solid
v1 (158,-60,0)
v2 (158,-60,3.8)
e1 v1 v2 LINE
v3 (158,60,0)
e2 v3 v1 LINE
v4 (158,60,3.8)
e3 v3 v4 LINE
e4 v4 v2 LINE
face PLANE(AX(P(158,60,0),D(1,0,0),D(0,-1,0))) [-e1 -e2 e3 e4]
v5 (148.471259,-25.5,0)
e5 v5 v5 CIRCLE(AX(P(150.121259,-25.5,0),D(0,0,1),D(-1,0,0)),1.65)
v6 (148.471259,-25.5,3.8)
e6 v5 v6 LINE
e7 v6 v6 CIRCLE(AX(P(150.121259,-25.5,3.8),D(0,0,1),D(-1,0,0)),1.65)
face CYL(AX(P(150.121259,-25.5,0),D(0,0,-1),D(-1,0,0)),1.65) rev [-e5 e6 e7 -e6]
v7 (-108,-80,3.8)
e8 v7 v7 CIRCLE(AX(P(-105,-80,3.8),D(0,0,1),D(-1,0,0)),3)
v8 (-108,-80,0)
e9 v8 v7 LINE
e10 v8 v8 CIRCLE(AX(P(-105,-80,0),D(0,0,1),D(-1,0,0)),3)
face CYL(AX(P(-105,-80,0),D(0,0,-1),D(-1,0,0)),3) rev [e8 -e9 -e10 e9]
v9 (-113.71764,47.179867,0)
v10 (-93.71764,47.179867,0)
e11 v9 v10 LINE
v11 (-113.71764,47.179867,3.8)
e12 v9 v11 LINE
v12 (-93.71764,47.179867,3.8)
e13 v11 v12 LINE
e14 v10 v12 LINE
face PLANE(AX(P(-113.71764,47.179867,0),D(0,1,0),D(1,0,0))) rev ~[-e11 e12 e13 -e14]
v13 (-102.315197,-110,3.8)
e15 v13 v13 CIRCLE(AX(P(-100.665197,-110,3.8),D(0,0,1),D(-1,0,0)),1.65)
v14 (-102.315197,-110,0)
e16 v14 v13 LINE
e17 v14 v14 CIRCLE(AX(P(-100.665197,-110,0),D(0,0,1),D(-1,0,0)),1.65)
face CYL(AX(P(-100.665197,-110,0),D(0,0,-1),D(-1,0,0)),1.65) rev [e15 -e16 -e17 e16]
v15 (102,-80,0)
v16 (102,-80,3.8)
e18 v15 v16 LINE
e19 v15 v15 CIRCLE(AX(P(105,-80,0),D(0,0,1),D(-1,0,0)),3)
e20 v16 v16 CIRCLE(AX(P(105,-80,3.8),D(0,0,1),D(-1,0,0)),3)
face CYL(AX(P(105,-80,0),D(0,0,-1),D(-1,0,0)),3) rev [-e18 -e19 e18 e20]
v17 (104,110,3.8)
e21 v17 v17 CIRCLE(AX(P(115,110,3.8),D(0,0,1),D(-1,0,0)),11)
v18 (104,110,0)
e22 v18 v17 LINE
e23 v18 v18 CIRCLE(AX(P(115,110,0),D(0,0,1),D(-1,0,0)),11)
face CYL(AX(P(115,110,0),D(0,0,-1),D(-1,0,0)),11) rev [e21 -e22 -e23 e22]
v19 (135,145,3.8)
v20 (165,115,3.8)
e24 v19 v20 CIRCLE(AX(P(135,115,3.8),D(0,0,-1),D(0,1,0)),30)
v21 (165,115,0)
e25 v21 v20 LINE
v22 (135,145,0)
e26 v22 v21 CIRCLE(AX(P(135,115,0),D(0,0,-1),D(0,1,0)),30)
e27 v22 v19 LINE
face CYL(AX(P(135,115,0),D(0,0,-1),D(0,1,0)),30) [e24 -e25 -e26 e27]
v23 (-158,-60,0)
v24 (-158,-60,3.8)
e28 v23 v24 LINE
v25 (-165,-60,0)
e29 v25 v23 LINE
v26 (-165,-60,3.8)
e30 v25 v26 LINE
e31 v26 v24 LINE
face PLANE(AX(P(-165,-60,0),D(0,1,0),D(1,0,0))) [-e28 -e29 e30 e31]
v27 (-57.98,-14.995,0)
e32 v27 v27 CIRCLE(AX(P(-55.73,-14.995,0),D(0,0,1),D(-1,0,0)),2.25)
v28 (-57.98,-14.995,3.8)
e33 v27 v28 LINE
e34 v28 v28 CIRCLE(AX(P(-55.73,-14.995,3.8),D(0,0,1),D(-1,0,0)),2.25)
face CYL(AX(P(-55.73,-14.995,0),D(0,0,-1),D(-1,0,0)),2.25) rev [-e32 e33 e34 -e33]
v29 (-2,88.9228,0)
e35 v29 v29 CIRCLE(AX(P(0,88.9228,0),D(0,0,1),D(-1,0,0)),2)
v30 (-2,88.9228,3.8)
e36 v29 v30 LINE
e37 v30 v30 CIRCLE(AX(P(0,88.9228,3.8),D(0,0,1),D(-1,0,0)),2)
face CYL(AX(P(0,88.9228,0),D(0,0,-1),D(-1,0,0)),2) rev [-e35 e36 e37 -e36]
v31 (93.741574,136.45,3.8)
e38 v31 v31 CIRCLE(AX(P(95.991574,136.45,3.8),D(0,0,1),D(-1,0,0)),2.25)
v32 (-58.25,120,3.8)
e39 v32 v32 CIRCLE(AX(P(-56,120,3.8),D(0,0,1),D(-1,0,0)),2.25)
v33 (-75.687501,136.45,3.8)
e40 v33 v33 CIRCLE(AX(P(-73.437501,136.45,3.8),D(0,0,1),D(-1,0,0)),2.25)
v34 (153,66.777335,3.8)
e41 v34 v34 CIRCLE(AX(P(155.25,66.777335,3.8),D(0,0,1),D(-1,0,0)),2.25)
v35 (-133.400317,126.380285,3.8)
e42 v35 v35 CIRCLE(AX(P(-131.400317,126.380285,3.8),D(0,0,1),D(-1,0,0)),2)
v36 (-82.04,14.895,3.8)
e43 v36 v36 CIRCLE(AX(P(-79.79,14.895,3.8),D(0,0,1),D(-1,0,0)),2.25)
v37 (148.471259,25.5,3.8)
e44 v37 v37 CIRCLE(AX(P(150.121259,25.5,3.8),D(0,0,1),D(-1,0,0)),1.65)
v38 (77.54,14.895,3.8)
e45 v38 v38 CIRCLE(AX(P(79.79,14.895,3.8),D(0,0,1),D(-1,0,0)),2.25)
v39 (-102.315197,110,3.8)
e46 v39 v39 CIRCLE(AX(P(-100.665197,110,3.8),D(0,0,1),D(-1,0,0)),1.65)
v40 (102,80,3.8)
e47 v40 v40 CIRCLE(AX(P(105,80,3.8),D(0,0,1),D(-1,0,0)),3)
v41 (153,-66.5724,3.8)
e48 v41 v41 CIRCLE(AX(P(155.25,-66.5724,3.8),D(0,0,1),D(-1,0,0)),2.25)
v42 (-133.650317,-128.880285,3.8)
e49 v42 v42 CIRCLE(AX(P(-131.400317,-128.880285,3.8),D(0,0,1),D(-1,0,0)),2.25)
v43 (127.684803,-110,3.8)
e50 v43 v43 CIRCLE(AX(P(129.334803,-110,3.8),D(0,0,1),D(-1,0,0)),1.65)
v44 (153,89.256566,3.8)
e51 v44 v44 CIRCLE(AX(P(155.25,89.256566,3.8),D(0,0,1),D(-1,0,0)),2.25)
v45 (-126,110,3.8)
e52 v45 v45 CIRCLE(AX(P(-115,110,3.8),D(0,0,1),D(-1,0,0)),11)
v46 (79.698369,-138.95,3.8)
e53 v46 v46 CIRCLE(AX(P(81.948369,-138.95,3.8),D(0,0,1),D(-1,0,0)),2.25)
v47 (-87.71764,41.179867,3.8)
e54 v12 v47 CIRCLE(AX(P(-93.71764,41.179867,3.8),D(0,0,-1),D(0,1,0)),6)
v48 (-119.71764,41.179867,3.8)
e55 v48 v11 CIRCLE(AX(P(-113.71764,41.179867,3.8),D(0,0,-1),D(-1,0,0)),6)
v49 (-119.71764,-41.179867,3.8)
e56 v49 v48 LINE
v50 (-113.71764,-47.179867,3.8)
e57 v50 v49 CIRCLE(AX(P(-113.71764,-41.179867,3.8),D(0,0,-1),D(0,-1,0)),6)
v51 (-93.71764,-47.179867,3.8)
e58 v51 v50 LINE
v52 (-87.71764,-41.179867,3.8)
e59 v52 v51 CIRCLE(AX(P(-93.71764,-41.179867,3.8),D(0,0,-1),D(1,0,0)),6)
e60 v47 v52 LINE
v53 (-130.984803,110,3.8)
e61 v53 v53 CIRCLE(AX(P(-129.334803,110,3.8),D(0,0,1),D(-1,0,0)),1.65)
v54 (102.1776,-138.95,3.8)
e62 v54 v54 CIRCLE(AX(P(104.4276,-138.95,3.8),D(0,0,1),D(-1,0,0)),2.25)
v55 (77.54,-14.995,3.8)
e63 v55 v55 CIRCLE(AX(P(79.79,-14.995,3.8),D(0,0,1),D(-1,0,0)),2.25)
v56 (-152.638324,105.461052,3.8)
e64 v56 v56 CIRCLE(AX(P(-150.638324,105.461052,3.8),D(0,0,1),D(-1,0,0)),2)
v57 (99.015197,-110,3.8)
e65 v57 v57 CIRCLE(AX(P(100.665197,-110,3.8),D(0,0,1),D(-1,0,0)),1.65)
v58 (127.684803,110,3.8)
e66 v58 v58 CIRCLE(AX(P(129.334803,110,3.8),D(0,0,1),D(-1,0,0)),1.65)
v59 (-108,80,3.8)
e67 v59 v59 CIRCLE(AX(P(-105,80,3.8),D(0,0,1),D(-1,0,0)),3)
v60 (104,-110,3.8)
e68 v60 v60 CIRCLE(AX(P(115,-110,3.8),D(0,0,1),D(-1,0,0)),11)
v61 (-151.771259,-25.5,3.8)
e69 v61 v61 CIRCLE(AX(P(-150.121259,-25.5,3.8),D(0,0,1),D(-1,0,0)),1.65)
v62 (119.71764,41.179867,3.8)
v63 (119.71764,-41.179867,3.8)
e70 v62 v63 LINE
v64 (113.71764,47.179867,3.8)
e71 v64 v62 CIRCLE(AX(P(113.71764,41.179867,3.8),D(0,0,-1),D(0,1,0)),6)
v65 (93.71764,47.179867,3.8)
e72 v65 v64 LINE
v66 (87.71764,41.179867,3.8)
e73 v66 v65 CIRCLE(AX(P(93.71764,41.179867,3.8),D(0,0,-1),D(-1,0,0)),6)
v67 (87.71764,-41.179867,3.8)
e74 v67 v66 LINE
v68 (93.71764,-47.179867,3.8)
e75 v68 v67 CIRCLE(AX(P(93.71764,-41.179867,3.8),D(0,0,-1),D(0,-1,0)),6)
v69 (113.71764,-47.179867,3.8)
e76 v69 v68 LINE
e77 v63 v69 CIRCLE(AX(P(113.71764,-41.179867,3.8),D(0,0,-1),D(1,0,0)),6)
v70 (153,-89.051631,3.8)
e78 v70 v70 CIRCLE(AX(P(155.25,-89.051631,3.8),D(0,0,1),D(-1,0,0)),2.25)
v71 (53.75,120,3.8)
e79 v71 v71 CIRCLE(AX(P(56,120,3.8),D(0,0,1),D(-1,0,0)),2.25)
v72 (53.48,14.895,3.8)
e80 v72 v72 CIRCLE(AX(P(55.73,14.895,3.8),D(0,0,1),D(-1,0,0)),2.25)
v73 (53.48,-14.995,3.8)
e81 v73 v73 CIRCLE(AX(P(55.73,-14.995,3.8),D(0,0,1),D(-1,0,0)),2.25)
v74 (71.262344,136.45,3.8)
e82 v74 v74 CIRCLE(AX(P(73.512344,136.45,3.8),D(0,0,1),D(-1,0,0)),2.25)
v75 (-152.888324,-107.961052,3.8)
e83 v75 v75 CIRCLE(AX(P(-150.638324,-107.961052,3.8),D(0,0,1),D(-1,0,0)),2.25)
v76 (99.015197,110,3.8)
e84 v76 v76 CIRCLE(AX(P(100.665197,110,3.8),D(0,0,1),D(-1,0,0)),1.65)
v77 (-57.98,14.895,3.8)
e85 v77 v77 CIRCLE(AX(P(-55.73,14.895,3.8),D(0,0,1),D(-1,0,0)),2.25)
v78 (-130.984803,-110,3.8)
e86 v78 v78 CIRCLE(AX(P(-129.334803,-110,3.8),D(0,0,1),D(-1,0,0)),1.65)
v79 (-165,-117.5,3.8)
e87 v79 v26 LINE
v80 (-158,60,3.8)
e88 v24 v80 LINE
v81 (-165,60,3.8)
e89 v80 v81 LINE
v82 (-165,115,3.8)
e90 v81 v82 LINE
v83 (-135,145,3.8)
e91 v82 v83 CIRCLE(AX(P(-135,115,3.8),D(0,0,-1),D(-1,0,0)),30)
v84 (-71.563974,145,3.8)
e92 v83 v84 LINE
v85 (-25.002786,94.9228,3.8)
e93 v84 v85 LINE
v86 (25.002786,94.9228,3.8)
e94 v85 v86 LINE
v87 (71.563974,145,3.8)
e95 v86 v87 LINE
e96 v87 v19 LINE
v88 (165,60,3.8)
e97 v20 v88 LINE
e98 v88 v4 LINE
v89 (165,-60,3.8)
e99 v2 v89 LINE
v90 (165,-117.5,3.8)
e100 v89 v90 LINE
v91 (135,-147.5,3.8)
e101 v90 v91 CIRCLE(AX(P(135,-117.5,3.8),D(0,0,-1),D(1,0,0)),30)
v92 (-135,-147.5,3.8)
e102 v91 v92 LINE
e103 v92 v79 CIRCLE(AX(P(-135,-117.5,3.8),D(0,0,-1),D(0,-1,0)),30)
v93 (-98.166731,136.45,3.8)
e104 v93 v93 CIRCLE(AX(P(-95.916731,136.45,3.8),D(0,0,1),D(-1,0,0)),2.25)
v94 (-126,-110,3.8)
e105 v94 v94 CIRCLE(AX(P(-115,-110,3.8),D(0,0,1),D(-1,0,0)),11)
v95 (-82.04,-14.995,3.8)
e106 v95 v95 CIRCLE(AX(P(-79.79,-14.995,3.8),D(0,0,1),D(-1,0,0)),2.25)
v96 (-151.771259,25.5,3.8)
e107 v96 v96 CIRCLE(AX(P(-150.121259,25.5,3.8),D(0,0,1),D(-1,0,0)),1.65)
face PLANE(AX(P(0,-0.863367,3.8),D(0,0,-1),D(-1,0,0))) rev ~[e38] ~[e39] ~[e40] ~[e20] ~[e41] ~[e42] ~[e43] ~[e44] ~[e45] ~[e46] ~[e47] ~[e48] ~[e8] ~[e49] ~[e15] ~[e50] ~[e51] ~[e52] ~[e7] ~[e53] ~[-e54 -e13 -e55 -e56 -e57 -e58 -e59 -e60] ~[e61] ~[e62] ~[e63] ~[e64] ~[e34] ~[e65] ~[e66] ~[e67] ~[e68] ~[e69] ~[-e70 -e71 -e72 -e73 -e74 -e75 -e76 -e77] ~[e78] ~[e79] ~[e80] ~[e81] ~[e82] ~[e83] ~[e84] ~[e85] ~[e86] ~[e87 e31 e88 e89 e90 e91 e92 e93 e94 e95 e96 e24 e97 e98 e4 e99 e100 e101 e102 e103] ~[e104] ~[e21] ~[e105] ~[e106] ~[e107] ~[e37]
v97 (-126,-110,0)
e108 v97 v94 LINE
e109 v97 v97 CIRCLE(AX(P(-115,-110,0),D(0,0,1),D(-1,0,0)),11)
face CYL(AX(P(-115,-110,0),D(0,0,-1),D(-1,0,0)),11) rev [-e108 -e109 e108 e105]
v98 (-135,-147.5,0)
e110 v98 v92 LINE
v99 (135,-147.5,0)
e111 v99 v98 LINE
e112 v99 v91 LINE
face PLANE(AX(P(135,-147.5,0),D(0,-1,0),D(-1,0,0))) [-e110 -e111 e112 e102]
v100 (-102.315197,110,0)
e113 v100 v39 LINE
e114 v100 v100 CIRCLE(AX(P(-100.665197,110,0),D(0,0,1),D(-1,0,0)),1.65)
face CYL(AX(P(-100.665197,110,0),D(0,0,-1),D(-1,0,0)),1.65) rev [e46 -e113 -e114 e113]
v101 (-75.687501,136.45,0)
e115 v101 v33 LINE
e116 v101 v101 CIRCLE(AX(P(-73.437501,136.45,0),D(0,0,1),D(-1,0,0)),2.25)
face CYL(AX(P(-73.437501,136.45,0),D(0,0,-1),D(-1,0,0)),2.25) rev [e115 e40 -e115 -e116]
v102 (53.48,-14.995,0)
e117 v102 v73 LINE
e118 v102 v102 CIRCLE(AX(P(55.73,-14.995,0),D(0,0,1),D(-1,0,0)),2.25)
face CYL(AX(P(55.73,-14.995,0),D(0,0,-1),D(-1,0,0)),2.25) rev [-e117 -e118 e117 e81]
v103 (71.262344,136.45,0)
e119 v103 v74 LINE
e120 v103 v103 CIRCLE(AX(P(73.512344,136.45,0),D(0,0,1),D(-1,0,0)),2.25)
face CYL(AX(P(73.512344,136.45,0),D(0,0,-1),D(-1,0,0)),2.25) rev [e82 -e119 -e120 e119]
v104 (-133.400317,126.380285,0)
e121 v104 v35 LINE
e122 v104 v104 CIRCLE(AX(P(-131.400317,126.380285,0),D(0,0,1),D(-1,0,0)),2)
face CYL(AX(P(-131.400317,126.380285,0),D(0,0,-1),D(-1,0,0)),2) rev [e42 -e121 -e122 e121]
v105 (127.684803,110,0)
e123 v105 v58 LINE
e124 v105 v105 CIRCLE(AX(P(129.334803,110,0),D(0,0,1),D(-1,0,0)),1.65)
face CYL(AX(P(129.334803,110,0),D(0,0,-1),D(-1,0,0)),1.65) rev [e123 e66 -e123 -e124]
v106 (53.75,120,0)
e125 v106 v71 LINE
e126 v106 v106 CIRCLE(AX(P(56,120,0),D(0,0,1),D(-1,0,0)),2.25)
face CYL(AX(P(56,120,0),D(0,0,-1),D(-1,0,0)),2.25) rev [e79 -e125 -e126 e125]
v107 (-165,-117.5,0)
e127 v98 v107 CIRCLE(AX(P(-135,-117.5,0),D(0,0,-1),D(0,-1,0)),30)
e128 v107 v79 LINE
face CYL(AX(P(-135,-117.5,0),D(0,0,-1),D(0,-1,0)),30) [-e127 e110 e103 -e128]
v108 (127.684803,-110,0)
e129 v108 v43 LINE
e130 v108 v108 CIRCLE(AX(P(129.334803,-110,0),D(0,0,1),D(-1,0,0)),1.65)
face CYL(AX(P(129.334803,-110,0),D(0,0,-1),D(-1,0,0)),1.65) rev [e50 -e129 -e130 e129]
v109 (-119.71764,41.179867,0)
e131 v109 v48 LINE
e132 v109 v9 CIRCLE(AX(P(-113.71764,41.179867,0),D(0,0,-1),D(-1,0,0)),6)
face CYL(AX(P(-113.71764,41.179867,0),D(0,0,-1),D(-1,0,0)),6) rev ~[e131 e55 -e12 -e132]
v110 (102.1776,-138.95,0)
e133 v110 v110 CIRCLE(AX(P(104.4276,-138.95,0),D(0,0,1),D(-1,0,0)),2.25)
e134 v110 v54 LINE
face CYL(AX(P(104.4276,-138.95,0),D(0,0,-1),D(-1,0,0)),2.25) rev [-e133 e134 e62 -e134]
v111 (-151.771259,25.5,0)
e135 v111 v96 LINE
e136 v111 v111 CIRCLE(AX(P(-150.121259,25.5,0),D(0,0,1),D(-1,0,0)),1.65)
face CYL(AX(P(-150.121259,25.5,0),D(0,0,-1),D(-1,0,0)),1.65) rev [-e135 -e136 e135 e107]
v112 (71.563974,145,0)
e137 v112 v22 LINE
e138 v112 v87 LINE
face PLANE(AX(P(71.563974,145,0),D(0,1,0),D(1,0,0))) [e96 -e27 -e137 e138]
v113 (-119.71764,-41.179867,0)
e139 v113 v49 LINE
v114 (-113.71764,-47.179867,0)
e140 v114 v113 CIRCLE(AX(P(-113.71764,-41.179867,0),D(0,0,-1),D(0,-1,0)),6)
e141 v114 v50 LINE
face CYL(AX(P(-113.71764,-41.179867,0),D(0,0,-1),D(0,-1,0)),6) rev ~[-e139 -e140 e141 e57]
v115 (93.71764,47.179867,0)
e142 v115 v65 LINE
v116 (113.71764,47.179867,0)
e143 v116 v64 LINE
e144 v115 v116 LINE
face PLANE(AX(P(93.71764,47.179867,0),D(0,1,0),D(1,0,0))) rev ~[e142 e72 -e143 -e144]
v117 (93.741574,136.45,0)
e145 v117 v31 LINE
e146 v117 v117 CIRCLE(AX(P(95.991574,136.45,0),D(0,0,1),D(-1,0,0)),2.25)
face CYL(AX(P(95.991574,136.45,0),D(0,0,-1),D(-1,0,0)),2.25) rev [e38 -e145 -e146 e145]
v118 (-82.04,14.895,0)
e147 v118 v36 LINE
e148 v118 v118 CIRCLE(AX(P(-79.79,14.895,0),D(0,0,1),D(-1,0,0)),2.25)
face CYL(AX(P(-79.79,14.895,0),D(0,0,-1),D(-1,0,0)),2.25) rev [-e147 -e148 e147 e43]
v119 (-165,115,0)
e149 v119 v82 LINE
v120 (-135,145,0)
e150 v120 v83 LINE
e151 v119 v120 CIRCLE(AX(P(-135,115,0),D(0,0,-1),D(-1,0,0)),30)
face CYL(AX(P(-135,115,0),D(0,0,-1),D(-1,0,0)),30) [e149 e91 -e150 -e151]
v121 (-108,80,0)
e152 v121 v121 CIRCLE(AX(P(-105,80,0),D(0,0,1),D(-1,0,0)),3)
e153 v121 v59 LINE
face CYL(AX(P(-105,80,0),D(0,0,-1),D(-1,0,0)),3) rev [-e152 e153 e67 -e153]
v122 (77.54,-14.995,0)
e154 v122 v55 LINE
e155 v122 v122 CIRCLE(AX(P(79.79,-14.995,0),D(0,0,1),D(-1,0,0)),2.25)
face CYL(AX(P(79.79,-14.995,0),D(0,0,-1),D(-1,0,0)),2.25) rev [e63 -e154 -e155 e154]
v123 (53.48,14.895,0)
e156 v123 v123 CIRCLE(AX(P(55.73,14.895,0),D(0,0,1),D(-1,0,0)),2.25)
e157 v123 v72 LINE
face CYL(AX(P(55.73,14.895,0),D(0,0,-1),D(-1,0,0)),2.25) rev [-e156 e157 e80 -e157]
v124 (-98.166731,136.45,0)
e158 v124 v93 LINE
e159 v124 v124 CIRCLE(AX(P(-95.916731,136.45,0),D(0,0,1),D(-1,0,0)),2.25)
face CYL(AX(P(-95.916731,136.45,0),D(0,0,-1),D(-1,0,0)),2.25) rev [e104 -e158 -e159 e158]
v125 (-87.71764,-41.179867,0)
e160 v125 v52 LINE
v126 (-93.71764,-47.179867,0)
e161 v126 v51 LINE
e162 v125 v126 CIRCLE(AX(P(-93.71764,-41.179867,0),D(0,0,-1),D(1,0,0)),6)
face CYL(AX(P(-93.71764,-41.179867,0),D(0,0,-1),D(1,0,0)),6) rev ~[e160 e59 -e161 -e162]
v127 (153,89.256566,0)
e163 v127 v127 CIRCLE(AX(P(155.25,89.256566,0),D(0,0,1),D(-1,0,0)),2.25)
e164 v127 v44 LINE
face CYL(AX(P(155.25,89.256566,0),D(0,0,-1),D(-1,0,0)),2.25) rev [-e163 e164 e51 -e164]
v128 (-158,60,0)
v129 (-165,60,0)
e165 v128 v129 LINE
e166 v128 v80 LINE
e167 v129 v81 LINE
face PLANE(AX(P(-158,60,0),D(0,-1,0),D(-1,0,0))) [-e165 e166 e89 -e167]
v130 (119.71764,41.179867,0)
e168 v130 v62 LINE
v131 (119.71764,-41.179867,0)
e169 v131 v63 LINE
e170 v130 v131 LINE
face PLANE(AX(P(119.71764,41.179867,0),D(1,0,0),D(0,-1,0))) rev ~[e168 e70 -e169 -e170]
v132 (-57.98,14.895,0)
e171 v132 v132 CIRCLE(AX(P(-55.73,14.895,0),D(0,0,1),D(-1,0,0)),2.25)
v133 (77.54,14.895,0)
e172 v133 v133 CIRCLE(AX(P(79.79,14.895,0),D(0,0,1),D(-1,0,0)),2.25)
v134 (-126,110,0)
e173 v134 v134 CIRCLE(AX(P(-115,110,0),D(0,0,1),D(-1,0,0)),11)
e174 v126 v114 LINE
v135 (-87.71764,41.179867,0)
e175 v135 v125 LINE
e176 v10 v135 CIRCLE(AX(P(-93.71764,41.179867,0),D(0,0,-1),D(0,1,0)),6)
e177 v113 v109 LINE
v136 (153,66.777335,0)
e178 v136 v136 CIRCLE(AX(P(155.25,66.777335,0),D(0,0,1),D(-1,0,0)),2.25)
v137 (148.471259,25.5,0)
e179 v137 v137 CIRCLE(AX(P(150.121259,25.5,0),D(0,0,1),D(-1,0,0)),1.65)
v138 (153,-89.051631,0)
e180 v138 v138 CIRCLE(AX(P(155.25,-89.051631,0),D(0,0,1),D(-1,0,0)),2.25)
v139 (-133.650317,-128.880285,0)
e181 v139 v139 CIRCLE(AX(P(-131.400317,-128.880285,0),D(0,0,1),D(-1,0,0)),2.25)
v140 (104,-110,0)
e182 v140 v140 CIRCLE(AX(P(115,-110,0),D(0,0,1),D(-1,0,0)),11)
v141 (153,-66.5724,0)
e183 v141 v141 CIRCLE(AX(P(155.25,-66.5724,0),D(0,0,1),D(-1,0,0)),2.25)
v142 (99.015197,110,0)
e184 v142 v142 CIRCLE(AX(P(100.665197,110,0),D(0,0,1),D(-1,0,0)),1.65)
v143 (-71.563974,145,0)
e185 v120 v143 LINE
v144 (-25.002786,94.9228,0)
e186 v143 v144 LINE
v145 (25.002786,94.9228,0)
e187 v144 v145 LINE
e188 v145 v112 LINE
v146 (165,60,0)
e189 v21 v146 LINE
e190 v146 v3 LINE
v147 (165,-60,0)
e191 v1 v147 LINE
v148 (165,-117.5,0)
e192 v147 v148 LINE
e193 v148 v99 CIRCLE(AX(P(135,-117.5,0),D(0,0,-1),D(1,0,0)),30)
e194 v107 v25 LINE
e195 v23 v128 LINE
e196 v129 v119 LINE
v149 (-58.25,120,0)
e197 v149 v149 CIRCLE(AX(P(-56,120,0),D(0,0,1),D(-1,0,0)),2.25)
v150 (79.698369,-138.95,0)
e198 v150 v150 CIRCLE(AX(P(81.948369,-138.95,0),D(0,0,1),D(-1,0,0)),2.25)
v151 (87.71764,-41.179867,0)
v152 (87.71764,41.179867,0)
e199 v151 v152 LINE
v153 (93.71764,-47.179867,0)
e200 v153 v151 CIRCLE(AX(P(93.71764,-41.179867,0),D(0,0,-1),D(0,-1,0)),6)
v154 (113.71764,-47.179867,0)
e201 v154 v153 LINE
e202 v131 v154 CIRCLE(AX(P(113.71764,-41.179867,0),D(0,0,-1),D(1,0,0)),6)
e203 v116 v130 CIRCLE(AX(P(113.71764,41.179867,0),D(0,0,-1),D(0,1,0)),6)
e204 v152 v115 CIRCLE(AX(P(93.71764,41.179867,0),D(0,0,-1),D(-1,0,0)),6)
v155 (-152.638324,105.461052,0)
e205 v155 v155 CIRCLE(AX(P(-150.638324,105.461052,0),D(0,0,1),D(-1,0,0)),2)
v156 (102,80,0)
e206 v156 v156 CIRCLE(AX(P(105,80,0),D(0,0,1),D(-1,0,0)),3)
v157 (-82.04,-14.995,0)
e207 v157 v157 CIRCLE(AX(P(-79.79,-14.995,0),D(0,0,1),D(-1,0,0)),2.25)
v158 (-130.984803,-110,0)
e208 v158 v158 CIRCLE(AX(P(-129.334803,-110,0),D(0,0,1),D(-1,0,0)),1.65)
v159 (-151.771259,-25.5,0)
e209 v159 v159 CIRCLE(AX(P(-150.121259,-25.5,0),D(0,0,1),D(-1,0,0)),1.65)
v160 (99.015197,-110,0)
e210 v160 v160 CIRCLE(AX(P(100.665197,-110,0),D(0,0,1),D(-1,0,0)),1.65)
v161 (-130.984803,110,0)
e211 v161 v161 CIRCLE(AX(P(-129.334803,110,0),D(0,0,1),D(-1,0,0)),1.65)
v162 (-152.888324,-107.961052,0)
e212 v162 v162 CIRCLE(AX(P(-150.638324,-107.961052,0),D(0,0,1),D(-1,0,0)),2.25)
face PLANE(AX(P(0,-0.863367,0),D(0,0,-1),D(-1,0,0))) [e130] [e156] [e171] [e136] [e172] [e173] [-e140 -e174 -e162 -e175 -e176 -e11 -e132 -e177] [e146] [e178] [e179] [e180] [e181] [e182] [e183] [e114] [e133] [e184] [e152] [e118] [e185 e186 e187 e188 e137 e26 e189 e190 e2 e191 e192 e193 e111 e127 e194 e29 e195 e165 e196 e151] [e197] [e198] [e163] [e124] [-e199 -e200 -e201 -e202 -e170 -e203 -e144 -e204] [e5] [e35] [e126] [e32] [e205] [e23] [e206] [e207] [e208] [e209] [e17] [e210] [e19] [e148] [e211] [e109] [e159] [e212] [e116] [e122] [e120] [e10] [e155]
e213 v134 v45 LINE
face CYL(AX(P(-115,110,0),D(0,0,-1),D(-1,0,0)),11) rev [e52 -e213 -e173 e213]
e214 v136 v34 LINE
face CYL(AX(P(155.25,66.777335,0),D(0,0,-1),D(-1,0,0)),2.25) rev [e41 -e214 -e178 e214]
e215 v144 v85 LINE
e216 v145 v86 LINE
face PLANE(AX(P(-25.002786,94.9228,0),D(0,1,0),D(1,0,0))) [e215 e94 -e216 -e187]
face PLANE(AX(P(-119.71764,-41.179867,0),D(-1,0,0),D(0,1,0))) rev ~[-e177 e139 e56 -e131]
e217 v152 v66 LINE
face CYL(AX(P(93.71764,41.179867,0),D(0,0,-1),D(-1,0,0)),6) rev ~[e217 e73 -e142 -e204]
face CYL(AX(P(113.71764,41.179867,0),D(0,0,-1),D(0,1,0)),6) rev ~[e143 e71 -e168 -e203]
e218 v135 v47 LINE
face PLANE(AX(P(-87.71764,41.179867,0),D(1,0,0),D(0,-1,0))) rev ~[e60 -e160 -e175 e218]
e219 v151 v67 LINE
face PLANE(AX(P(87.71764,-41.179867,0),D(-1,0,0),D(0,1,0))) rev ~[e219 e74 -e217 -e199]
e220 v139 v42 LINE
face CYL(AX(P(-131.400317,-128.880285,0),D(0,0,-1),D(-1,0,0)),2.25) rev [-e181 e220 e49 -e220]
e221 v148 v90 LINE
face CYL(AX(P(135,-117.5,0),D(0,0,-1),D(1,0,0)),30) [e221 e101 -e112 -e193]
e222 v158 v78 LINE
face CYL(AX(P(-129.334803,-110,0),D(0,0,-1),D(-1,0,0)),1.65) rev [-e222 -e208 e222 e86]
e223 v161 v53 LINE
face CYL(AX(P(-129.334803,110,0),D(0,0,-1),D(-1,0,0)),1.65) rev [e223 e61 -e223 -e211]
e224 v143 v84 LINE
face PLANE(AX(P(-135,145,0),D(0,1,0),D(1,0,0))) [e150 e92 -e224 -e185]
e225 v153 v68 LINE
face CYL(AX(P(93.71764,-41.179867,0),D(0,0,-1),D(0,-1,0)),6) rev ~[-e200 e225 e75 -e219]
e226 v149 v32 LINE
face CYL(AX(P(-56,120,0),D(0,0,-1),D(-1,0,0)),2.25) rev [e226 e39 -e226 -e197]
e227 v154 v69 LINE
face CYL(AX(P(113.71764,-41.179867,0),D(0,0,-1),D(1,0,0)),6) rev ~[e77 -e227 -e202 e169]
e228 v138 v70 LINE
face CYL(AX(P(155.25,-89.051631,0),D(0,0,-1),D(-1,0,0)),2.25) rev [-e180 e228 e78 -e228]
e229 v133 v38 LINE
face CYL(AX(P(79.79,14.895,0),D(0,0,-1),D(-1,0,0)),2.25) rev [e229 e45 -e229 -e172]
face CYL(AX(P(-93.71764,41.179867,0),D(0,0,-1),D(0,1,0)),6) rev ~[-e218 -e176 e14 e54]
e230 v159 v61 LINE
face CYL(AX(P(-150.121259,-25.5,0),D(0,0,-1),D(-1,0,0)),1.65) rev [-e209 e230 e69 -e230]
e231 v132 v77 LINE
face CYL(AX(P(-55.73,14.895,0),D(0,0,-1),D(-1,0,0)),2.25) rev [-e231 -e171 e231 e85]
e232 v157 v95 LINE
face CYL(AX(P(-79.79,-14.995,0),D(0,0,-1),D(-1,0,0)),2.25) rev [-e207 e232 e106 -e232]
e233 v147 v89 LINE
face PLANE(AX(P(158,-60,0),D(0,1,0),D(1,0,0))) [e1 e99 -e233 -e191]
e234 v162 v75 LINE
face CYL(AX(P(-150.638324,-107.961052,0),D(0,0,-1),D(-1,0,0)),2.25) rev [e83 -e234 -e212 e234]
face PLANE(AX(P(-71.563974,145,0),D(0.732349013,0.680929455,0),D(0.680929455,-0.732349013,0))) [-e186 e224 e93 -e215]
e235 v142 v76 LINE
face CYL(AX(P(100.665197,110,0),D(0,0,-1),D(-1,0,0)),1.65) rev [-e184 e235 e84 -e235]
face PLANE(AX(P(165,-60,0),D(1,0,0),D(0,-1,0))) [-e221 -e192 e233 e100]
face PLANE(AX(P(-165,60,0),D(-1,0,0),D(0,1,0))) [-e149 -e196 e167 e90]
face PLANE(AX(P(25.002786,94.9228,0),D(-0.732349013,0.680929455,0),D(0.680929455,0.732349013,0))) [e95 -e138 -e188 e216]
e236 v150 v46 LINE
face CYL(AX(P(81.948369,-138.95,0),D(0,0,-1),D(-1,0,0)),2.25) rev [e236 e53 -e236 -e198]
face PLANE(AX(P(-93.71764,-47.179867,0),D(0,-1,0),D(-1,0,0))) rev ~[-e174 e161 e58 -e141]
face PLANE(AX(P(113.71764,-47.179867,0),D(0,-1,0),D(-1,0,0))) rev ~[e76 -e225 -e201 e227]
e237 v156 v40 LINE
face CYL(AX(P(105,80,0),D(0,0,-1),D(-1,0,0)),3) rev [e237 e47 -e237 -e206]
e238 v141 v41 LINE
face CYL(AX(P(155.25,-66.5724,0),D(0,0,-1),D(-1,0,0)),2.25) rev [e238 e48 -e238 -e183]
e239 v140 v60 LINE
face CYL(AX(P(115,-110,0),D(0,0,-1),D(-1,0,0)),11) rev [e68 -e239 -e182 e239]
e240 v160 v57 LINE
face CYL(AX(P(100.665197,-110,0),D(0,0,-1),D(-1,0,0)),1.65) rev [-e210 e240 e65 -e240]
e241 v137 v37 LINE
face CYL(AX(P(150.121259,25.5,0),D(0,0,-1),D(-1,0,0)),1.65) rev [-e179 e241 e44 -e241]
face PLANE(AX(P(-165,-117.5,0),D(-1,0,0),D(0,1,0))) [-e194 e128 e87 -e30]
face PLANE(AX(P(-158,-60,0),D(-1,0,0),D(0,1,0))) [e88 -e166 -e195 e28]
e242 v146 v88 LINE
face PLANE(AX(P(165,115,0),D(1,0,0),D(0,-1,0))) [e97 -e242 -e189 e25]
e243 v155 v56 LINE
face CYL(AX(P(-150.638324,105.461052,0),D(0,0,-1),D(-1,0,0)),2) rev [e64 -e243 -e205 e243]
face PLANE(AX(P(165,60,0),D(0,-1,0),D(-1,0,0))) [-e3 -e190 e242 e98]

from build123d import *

# Parameters (mm, degrees)
SKETCH2_R           = 1.65
SKETCH2_R_2         = 11
SKETCH2_R_3         = 3
SKETCH2_R_4         = 2.25
SKETCH2_R_5         = 2
BOSS_EXTRUDE1_DEPTH = 3.8


with BuildPart() as part:
    # Sketch2 → Boss-Extrude1 (new body)
    with BuildSketch(Plane.XY):
        with BuildLine():
            Line((165, 115), (165, 60))
            Line((165, 60), (158, 60))
            Line((158, 60), (158, -60))
            Line((158, -60), (165, -60))
            Line((165, -60), (165, -117.5))
            ThreePointArc((165, -117.5), (156.213203436, -138.713203436), (135, -147.5))
            Line((135, -147.5), (-135, -147.5))
            ThreePointArc((-135, -147.5), (-156.213203436, -138.713203436), (-165, -117.5))
            Line((-165, -117.5), (-165, -60))
            Line((-165, -60), (-158, -60))
            Line((-158, -60), (-158, 60))
            Line((-158, 60), (-165, 60))
            Line((-165, 60), (-165, 115))
            ThreePointArc((-165, 115), (-156.213203436, 136.213203436), (-135, 145))
            Line((-135, 145), (-71.563974327, 145))
            Line((-71.563974327, 145), (-25.002785582, 94.922799803))
            Line((-25.002785582, 94.922799803), (25.002785582, 94.922799803))
            Line((25.002785582, 94.922799803), (71.563974327, 145))
            Line((71.563974327, 145), (135, 145))
            ThreePointArc((135, 145), (156.213203436, 136.213203436), (165, 115))
        make_face()
        with Locations(Location((-129.334802826, 110, 0), (0, 0, 180))):
            Circle(SKETCH2_R, mode=Mode.SUBTRACT)
        with Locations(Location((-100.665197174, 110, 0), (0, 0, 180))):
            Circle(SKETCH2_R, mode=Mode.SUBTRACT)
        with Locations(Location((129.334802826, 110, 0), (0, 0, 180))):
            Circle(SKETCH2_R, mode=Mode.SUBTRACT)
        with Locations(Location((100.665197174, 110, 0), (0, 0, 180))):
            Circle(SKETCH2_R, mode=Mode.SUBTRACT)
        with Locations(Location((129.334802826, -110, 0), (0, 0, 180))):
            Circle(SKETCH2_R, mode=Mode.SUBTRACT)
        with Locations(Location((100.665197174, -110, 0), (0, 0, 180))):
            Circle(SKETCH2_R, mode=Mode.SUBTRACT)
        with Locations(Location((-129.334802826, -110, 0), (0, 0, 180))):
            Circle(SKETCH2_R, mode=Mode.SUBTRACT)
        with Locations(Location((-100.665197174, -110, 0), (0, 0, 180))):
            Circle(SKETCH2_R, mode=Mode.SUBTRACT)
        with Locations(Location((115, 110, 0), (0, 0, 180))):
            Circle(SKETCH2_R_2, mode=Mode.SUBTRACT)
        with Locations(Location((-115, 110, 0), (0, 0, 180))):
            Circle(SKETCH2_R_2, mode=Mode.SUBTRACT)
        with Locations(Location((115, -110, 0), (0, 0, 180))):
            Circle(SKETCH2_R_2, mode=Mode.SUBTRACT)
        with Locations(Location((-115, -110, 0), (0, 0, 180))):
            Circle(SKETCH2_R_2, mode=Mode.SUBTRACT)
        with Locations(Location((-105, 80, 0), (0, 0, 180))):
            Circle(SKETCH2_R_3, mode=Mode.SUBTRACT)
        with Locations(Location((105, 80, 0), (0, 0, 180))):
            Circle(SKETCH2_R_3, mode=Mode.SUBTRACT)
        with Locations(Location((105, -80, 0), (0, 0, 180))):
            Circle(SKETCH2_R_3, mode=Mode.SUBTRACT)
        with Locations(Location((-105, -80, 0), (0, 0, 180))):
            Circle(SKETCH2_R_3, mode=Mode.SUBTRACT)
        with Locations(Location((150.121259344, -25.5, 0), (0, 0, 180))):
            Circle(SKETCH2_R, mode=Mode.SUBTRACT)
        with Locations(Location((150.121259344, 25.5, 0), (0, 0, 180))):
            Circle(SKETCH2_R, mode=Mode.SUBTRACT)
        with Locations(Location((-150.121259344, -25.5, 0), (0, 0, 180))):
            Circle(SKETCH2_R, mode=Mode.SUBTRACT)
        with Locations(Location((-150.121259344, 25.5, 0), (0, 0, 180))):
            Circle(SKETCH2_R, mode=Mode.SUBTRACT)
        with Locations(Location((-55.73, -14.995, 0), (0, 0, 180))):
            Circle(SKETCH2_R_4, mode=Mode.SUBTRACT)
        with Locations(Location((-55.73, 14.895, 0), (0, 0, 180))):
            Circle(SKETCH2_R_4, mode=Mode.SUBTRACT)
        with Locations(Location((-79.79, 14.895, 0), (0, 0, 180))):
            Circle(SKETCH2_R_4, mode=Mode.SUBTRACT)
        with Locations(Location((-79.79, -14.995, 0), (0, 0, 180))):
            Circle(SKETCH2_R_4, mode=Mode.SUBTRACT)
        with Locations(Location((79.79, -14.995, 0), (0, 0, 180))):
            Circle(SKETCH2_R_4, mode=Mode.SUBTRACT)
        with Locations(Location((55.73, -14.995, 0), (0, 0, 180))):
            Circle(SKETCH2_R_4, mode=Mode.SUBTRACT)
        with Locations(Location((55.73, 14.895, 0), (0, 0, 180))):
            Circle(SKETCH2_R_4, mode=Mode.SUBTRACT)
        with Locations(Location((79.79, 14.895, 0), (0, 0, 180))):
            Circle(SKETCH2_R_4, mode=Mode.SUBTRACT)
        with Locations(Location((56, 120, 0), (0, 0, 180))):
            Circle(SKETCH2_R_4, mode=Mode.SUBTRACT)
        with Locations(Location((0, 88.922799803, 0), (0, 0, 180))):
            Circle(SKETCH2_R_5, mode=Mode.SUBTRACT)
        with Locations(Location((-56, 120, 0), (0, 0, 180))):
            Circle(SKETCH2_R_4, mode=Mode.SUBTRACT)
        with Locations(Location((155.24999999, 66.777335257, 0), (0, 0, 180))):
            Circle(SKETCH2_R_4, mode=Mode.SUBTRACT)
        with Locations(Location((155.24999999, 89.256565873, 0), (0, 0, 180))):
            Circle(SKETCH2_R_4, mode=Mode.SUBTRACT)
        with Locations(Location((155.24999999, -66.572399887, 0), (0, 0, 180))):
            Circle(SKETCH2_R_4, mode=Mode.SUBTRACT)
        with Locations(Location((155.24999999, -89.051630503, 0), (0, 0, 180))):
            Circle(SKETCH2_R_4, mode=Mode.SUBTRACT)
        with Locations(Location((104.427600113, -138.94999999, 0), (0, 0, 180))):
            Circle(SKETCH2_R_4, mode=Mode.SUBTRACT)
        with Locations(Location((81.948369497, -138.94999999, 0), (0, 0, 180))):
            Circle(SKETCH2_R_4, mode=Mode.SUBTRACT)
        with Locations(Location((-131.400317146, -128.880285492, 0), (0, 0, 180))):
            Circle(SKETCH2_R_4, mode=Mode.SUBTRACT)
        with Locations(Location((-150.638323589, -107.961051525, 0), (0, 0, 180))):
            Circle(SKETCH2_R_4, mode=Mode.SUBTRACT)
        with Locations(Location((-150.638323589, 105.461051525, 0), (0, 0, 180))):
            Circle(SKETCH2_R_5, mode=Mode.SUBTRACT)
        with Locations(Location((-131.400317146, 126.380285492, 0), (0, 0, 180))):
            Circle(SKETCH2_R_5, mode=Mode.SUBTRACT)
        with Locations(Location((-73.437500654, 136.44999999, 0), (0, 0, 180))):
            Circle(SKETCH2_R_4, mode=Mode.SUBTRACT)
        with Locations(Location((-95.91673127, 136.44999999, 0), (0, 0, 180))):
            Circle(SKETCH2_R_4, mode=Mode.SUBTRACT)
        with Locations(Location((95.99157444, 136.44999999, 0), (0, 0, 180))):
            Circle(SKETCH2_R_4, mode=Mode.SUBTRACT)
        with Locations(Location((73.512343824, 136.44999999, 0), (0, 0, 180))):
            Circle(SKETCH2_R_4, mode=Mode.SUBTRACT)
        with BuildLine():
            Line((113.717640114, -47.179866734), (93.717640114, -47.179866734))
            ThreePointArc((93.717640114, -47.179866734), (89.474999427, -45.422507421), (87.717640114, -41.179866734))
            Line((87.717640114, -41.179866734), (87.717640114, 41.179866734))
            ThreePointArc((87.717640114, 41.179866734), (89.474999427, 45.422507421), (93.717640114, 47.179866734))
            Line((93.717640114, 47.179866734), (113.717640114, 47.179866734))
            ThreePointArc((113.717640114, 47.179866734), (117.960280801, 45.422507421), (119.717640114, 41.179866734))
            Line((119.717640114, 41.179866734), (119.717640114, -41.179866734))
            ThreePointArc((119.717640114, -41.179866734), (117.960280801, -45.422507421), (113.717640114, -47.179866734))
        make_face(mode=Mode.SUBTRACT)
        with BuildLine():
            Line((-113.717640114, 47.179866734), (-93.717640114, 47.179866734))
            ThreePointArc((-93.717640114, 47.179866734), (-89.474999427, 45.422507421), (-87.717640114, 41.179866734))
            Line((-87.717640114, 41.179866734), (-87.717640114, -41.179866734))
            ThreePointArc((-87.717640114, -41.179866734), (-89.474999427, -45.422507421), (-93.717640114, -47.179866734))
            Line((-93.717640114, -47.179866734), (-113.717640114, -47.179866734))
            ThreePointArc((-113.717640114, -47.179866734), (-117.960280801, -45.422507421), (-119.717640114, -41.179866734))
            Line((-119.717640114, -41.179866734), (-119.717640114, 41.179866734))
            ThreePointArc((-119.717640114, 41.179866734), (-117.960280801, 45.422507421), (-113.717640114, 47.179866734))
        make_face(mode=Mode.SUBTRACT)
    extrude(amount=BOSS_EXTRUDE1_DEPTH)


solid = part.part
